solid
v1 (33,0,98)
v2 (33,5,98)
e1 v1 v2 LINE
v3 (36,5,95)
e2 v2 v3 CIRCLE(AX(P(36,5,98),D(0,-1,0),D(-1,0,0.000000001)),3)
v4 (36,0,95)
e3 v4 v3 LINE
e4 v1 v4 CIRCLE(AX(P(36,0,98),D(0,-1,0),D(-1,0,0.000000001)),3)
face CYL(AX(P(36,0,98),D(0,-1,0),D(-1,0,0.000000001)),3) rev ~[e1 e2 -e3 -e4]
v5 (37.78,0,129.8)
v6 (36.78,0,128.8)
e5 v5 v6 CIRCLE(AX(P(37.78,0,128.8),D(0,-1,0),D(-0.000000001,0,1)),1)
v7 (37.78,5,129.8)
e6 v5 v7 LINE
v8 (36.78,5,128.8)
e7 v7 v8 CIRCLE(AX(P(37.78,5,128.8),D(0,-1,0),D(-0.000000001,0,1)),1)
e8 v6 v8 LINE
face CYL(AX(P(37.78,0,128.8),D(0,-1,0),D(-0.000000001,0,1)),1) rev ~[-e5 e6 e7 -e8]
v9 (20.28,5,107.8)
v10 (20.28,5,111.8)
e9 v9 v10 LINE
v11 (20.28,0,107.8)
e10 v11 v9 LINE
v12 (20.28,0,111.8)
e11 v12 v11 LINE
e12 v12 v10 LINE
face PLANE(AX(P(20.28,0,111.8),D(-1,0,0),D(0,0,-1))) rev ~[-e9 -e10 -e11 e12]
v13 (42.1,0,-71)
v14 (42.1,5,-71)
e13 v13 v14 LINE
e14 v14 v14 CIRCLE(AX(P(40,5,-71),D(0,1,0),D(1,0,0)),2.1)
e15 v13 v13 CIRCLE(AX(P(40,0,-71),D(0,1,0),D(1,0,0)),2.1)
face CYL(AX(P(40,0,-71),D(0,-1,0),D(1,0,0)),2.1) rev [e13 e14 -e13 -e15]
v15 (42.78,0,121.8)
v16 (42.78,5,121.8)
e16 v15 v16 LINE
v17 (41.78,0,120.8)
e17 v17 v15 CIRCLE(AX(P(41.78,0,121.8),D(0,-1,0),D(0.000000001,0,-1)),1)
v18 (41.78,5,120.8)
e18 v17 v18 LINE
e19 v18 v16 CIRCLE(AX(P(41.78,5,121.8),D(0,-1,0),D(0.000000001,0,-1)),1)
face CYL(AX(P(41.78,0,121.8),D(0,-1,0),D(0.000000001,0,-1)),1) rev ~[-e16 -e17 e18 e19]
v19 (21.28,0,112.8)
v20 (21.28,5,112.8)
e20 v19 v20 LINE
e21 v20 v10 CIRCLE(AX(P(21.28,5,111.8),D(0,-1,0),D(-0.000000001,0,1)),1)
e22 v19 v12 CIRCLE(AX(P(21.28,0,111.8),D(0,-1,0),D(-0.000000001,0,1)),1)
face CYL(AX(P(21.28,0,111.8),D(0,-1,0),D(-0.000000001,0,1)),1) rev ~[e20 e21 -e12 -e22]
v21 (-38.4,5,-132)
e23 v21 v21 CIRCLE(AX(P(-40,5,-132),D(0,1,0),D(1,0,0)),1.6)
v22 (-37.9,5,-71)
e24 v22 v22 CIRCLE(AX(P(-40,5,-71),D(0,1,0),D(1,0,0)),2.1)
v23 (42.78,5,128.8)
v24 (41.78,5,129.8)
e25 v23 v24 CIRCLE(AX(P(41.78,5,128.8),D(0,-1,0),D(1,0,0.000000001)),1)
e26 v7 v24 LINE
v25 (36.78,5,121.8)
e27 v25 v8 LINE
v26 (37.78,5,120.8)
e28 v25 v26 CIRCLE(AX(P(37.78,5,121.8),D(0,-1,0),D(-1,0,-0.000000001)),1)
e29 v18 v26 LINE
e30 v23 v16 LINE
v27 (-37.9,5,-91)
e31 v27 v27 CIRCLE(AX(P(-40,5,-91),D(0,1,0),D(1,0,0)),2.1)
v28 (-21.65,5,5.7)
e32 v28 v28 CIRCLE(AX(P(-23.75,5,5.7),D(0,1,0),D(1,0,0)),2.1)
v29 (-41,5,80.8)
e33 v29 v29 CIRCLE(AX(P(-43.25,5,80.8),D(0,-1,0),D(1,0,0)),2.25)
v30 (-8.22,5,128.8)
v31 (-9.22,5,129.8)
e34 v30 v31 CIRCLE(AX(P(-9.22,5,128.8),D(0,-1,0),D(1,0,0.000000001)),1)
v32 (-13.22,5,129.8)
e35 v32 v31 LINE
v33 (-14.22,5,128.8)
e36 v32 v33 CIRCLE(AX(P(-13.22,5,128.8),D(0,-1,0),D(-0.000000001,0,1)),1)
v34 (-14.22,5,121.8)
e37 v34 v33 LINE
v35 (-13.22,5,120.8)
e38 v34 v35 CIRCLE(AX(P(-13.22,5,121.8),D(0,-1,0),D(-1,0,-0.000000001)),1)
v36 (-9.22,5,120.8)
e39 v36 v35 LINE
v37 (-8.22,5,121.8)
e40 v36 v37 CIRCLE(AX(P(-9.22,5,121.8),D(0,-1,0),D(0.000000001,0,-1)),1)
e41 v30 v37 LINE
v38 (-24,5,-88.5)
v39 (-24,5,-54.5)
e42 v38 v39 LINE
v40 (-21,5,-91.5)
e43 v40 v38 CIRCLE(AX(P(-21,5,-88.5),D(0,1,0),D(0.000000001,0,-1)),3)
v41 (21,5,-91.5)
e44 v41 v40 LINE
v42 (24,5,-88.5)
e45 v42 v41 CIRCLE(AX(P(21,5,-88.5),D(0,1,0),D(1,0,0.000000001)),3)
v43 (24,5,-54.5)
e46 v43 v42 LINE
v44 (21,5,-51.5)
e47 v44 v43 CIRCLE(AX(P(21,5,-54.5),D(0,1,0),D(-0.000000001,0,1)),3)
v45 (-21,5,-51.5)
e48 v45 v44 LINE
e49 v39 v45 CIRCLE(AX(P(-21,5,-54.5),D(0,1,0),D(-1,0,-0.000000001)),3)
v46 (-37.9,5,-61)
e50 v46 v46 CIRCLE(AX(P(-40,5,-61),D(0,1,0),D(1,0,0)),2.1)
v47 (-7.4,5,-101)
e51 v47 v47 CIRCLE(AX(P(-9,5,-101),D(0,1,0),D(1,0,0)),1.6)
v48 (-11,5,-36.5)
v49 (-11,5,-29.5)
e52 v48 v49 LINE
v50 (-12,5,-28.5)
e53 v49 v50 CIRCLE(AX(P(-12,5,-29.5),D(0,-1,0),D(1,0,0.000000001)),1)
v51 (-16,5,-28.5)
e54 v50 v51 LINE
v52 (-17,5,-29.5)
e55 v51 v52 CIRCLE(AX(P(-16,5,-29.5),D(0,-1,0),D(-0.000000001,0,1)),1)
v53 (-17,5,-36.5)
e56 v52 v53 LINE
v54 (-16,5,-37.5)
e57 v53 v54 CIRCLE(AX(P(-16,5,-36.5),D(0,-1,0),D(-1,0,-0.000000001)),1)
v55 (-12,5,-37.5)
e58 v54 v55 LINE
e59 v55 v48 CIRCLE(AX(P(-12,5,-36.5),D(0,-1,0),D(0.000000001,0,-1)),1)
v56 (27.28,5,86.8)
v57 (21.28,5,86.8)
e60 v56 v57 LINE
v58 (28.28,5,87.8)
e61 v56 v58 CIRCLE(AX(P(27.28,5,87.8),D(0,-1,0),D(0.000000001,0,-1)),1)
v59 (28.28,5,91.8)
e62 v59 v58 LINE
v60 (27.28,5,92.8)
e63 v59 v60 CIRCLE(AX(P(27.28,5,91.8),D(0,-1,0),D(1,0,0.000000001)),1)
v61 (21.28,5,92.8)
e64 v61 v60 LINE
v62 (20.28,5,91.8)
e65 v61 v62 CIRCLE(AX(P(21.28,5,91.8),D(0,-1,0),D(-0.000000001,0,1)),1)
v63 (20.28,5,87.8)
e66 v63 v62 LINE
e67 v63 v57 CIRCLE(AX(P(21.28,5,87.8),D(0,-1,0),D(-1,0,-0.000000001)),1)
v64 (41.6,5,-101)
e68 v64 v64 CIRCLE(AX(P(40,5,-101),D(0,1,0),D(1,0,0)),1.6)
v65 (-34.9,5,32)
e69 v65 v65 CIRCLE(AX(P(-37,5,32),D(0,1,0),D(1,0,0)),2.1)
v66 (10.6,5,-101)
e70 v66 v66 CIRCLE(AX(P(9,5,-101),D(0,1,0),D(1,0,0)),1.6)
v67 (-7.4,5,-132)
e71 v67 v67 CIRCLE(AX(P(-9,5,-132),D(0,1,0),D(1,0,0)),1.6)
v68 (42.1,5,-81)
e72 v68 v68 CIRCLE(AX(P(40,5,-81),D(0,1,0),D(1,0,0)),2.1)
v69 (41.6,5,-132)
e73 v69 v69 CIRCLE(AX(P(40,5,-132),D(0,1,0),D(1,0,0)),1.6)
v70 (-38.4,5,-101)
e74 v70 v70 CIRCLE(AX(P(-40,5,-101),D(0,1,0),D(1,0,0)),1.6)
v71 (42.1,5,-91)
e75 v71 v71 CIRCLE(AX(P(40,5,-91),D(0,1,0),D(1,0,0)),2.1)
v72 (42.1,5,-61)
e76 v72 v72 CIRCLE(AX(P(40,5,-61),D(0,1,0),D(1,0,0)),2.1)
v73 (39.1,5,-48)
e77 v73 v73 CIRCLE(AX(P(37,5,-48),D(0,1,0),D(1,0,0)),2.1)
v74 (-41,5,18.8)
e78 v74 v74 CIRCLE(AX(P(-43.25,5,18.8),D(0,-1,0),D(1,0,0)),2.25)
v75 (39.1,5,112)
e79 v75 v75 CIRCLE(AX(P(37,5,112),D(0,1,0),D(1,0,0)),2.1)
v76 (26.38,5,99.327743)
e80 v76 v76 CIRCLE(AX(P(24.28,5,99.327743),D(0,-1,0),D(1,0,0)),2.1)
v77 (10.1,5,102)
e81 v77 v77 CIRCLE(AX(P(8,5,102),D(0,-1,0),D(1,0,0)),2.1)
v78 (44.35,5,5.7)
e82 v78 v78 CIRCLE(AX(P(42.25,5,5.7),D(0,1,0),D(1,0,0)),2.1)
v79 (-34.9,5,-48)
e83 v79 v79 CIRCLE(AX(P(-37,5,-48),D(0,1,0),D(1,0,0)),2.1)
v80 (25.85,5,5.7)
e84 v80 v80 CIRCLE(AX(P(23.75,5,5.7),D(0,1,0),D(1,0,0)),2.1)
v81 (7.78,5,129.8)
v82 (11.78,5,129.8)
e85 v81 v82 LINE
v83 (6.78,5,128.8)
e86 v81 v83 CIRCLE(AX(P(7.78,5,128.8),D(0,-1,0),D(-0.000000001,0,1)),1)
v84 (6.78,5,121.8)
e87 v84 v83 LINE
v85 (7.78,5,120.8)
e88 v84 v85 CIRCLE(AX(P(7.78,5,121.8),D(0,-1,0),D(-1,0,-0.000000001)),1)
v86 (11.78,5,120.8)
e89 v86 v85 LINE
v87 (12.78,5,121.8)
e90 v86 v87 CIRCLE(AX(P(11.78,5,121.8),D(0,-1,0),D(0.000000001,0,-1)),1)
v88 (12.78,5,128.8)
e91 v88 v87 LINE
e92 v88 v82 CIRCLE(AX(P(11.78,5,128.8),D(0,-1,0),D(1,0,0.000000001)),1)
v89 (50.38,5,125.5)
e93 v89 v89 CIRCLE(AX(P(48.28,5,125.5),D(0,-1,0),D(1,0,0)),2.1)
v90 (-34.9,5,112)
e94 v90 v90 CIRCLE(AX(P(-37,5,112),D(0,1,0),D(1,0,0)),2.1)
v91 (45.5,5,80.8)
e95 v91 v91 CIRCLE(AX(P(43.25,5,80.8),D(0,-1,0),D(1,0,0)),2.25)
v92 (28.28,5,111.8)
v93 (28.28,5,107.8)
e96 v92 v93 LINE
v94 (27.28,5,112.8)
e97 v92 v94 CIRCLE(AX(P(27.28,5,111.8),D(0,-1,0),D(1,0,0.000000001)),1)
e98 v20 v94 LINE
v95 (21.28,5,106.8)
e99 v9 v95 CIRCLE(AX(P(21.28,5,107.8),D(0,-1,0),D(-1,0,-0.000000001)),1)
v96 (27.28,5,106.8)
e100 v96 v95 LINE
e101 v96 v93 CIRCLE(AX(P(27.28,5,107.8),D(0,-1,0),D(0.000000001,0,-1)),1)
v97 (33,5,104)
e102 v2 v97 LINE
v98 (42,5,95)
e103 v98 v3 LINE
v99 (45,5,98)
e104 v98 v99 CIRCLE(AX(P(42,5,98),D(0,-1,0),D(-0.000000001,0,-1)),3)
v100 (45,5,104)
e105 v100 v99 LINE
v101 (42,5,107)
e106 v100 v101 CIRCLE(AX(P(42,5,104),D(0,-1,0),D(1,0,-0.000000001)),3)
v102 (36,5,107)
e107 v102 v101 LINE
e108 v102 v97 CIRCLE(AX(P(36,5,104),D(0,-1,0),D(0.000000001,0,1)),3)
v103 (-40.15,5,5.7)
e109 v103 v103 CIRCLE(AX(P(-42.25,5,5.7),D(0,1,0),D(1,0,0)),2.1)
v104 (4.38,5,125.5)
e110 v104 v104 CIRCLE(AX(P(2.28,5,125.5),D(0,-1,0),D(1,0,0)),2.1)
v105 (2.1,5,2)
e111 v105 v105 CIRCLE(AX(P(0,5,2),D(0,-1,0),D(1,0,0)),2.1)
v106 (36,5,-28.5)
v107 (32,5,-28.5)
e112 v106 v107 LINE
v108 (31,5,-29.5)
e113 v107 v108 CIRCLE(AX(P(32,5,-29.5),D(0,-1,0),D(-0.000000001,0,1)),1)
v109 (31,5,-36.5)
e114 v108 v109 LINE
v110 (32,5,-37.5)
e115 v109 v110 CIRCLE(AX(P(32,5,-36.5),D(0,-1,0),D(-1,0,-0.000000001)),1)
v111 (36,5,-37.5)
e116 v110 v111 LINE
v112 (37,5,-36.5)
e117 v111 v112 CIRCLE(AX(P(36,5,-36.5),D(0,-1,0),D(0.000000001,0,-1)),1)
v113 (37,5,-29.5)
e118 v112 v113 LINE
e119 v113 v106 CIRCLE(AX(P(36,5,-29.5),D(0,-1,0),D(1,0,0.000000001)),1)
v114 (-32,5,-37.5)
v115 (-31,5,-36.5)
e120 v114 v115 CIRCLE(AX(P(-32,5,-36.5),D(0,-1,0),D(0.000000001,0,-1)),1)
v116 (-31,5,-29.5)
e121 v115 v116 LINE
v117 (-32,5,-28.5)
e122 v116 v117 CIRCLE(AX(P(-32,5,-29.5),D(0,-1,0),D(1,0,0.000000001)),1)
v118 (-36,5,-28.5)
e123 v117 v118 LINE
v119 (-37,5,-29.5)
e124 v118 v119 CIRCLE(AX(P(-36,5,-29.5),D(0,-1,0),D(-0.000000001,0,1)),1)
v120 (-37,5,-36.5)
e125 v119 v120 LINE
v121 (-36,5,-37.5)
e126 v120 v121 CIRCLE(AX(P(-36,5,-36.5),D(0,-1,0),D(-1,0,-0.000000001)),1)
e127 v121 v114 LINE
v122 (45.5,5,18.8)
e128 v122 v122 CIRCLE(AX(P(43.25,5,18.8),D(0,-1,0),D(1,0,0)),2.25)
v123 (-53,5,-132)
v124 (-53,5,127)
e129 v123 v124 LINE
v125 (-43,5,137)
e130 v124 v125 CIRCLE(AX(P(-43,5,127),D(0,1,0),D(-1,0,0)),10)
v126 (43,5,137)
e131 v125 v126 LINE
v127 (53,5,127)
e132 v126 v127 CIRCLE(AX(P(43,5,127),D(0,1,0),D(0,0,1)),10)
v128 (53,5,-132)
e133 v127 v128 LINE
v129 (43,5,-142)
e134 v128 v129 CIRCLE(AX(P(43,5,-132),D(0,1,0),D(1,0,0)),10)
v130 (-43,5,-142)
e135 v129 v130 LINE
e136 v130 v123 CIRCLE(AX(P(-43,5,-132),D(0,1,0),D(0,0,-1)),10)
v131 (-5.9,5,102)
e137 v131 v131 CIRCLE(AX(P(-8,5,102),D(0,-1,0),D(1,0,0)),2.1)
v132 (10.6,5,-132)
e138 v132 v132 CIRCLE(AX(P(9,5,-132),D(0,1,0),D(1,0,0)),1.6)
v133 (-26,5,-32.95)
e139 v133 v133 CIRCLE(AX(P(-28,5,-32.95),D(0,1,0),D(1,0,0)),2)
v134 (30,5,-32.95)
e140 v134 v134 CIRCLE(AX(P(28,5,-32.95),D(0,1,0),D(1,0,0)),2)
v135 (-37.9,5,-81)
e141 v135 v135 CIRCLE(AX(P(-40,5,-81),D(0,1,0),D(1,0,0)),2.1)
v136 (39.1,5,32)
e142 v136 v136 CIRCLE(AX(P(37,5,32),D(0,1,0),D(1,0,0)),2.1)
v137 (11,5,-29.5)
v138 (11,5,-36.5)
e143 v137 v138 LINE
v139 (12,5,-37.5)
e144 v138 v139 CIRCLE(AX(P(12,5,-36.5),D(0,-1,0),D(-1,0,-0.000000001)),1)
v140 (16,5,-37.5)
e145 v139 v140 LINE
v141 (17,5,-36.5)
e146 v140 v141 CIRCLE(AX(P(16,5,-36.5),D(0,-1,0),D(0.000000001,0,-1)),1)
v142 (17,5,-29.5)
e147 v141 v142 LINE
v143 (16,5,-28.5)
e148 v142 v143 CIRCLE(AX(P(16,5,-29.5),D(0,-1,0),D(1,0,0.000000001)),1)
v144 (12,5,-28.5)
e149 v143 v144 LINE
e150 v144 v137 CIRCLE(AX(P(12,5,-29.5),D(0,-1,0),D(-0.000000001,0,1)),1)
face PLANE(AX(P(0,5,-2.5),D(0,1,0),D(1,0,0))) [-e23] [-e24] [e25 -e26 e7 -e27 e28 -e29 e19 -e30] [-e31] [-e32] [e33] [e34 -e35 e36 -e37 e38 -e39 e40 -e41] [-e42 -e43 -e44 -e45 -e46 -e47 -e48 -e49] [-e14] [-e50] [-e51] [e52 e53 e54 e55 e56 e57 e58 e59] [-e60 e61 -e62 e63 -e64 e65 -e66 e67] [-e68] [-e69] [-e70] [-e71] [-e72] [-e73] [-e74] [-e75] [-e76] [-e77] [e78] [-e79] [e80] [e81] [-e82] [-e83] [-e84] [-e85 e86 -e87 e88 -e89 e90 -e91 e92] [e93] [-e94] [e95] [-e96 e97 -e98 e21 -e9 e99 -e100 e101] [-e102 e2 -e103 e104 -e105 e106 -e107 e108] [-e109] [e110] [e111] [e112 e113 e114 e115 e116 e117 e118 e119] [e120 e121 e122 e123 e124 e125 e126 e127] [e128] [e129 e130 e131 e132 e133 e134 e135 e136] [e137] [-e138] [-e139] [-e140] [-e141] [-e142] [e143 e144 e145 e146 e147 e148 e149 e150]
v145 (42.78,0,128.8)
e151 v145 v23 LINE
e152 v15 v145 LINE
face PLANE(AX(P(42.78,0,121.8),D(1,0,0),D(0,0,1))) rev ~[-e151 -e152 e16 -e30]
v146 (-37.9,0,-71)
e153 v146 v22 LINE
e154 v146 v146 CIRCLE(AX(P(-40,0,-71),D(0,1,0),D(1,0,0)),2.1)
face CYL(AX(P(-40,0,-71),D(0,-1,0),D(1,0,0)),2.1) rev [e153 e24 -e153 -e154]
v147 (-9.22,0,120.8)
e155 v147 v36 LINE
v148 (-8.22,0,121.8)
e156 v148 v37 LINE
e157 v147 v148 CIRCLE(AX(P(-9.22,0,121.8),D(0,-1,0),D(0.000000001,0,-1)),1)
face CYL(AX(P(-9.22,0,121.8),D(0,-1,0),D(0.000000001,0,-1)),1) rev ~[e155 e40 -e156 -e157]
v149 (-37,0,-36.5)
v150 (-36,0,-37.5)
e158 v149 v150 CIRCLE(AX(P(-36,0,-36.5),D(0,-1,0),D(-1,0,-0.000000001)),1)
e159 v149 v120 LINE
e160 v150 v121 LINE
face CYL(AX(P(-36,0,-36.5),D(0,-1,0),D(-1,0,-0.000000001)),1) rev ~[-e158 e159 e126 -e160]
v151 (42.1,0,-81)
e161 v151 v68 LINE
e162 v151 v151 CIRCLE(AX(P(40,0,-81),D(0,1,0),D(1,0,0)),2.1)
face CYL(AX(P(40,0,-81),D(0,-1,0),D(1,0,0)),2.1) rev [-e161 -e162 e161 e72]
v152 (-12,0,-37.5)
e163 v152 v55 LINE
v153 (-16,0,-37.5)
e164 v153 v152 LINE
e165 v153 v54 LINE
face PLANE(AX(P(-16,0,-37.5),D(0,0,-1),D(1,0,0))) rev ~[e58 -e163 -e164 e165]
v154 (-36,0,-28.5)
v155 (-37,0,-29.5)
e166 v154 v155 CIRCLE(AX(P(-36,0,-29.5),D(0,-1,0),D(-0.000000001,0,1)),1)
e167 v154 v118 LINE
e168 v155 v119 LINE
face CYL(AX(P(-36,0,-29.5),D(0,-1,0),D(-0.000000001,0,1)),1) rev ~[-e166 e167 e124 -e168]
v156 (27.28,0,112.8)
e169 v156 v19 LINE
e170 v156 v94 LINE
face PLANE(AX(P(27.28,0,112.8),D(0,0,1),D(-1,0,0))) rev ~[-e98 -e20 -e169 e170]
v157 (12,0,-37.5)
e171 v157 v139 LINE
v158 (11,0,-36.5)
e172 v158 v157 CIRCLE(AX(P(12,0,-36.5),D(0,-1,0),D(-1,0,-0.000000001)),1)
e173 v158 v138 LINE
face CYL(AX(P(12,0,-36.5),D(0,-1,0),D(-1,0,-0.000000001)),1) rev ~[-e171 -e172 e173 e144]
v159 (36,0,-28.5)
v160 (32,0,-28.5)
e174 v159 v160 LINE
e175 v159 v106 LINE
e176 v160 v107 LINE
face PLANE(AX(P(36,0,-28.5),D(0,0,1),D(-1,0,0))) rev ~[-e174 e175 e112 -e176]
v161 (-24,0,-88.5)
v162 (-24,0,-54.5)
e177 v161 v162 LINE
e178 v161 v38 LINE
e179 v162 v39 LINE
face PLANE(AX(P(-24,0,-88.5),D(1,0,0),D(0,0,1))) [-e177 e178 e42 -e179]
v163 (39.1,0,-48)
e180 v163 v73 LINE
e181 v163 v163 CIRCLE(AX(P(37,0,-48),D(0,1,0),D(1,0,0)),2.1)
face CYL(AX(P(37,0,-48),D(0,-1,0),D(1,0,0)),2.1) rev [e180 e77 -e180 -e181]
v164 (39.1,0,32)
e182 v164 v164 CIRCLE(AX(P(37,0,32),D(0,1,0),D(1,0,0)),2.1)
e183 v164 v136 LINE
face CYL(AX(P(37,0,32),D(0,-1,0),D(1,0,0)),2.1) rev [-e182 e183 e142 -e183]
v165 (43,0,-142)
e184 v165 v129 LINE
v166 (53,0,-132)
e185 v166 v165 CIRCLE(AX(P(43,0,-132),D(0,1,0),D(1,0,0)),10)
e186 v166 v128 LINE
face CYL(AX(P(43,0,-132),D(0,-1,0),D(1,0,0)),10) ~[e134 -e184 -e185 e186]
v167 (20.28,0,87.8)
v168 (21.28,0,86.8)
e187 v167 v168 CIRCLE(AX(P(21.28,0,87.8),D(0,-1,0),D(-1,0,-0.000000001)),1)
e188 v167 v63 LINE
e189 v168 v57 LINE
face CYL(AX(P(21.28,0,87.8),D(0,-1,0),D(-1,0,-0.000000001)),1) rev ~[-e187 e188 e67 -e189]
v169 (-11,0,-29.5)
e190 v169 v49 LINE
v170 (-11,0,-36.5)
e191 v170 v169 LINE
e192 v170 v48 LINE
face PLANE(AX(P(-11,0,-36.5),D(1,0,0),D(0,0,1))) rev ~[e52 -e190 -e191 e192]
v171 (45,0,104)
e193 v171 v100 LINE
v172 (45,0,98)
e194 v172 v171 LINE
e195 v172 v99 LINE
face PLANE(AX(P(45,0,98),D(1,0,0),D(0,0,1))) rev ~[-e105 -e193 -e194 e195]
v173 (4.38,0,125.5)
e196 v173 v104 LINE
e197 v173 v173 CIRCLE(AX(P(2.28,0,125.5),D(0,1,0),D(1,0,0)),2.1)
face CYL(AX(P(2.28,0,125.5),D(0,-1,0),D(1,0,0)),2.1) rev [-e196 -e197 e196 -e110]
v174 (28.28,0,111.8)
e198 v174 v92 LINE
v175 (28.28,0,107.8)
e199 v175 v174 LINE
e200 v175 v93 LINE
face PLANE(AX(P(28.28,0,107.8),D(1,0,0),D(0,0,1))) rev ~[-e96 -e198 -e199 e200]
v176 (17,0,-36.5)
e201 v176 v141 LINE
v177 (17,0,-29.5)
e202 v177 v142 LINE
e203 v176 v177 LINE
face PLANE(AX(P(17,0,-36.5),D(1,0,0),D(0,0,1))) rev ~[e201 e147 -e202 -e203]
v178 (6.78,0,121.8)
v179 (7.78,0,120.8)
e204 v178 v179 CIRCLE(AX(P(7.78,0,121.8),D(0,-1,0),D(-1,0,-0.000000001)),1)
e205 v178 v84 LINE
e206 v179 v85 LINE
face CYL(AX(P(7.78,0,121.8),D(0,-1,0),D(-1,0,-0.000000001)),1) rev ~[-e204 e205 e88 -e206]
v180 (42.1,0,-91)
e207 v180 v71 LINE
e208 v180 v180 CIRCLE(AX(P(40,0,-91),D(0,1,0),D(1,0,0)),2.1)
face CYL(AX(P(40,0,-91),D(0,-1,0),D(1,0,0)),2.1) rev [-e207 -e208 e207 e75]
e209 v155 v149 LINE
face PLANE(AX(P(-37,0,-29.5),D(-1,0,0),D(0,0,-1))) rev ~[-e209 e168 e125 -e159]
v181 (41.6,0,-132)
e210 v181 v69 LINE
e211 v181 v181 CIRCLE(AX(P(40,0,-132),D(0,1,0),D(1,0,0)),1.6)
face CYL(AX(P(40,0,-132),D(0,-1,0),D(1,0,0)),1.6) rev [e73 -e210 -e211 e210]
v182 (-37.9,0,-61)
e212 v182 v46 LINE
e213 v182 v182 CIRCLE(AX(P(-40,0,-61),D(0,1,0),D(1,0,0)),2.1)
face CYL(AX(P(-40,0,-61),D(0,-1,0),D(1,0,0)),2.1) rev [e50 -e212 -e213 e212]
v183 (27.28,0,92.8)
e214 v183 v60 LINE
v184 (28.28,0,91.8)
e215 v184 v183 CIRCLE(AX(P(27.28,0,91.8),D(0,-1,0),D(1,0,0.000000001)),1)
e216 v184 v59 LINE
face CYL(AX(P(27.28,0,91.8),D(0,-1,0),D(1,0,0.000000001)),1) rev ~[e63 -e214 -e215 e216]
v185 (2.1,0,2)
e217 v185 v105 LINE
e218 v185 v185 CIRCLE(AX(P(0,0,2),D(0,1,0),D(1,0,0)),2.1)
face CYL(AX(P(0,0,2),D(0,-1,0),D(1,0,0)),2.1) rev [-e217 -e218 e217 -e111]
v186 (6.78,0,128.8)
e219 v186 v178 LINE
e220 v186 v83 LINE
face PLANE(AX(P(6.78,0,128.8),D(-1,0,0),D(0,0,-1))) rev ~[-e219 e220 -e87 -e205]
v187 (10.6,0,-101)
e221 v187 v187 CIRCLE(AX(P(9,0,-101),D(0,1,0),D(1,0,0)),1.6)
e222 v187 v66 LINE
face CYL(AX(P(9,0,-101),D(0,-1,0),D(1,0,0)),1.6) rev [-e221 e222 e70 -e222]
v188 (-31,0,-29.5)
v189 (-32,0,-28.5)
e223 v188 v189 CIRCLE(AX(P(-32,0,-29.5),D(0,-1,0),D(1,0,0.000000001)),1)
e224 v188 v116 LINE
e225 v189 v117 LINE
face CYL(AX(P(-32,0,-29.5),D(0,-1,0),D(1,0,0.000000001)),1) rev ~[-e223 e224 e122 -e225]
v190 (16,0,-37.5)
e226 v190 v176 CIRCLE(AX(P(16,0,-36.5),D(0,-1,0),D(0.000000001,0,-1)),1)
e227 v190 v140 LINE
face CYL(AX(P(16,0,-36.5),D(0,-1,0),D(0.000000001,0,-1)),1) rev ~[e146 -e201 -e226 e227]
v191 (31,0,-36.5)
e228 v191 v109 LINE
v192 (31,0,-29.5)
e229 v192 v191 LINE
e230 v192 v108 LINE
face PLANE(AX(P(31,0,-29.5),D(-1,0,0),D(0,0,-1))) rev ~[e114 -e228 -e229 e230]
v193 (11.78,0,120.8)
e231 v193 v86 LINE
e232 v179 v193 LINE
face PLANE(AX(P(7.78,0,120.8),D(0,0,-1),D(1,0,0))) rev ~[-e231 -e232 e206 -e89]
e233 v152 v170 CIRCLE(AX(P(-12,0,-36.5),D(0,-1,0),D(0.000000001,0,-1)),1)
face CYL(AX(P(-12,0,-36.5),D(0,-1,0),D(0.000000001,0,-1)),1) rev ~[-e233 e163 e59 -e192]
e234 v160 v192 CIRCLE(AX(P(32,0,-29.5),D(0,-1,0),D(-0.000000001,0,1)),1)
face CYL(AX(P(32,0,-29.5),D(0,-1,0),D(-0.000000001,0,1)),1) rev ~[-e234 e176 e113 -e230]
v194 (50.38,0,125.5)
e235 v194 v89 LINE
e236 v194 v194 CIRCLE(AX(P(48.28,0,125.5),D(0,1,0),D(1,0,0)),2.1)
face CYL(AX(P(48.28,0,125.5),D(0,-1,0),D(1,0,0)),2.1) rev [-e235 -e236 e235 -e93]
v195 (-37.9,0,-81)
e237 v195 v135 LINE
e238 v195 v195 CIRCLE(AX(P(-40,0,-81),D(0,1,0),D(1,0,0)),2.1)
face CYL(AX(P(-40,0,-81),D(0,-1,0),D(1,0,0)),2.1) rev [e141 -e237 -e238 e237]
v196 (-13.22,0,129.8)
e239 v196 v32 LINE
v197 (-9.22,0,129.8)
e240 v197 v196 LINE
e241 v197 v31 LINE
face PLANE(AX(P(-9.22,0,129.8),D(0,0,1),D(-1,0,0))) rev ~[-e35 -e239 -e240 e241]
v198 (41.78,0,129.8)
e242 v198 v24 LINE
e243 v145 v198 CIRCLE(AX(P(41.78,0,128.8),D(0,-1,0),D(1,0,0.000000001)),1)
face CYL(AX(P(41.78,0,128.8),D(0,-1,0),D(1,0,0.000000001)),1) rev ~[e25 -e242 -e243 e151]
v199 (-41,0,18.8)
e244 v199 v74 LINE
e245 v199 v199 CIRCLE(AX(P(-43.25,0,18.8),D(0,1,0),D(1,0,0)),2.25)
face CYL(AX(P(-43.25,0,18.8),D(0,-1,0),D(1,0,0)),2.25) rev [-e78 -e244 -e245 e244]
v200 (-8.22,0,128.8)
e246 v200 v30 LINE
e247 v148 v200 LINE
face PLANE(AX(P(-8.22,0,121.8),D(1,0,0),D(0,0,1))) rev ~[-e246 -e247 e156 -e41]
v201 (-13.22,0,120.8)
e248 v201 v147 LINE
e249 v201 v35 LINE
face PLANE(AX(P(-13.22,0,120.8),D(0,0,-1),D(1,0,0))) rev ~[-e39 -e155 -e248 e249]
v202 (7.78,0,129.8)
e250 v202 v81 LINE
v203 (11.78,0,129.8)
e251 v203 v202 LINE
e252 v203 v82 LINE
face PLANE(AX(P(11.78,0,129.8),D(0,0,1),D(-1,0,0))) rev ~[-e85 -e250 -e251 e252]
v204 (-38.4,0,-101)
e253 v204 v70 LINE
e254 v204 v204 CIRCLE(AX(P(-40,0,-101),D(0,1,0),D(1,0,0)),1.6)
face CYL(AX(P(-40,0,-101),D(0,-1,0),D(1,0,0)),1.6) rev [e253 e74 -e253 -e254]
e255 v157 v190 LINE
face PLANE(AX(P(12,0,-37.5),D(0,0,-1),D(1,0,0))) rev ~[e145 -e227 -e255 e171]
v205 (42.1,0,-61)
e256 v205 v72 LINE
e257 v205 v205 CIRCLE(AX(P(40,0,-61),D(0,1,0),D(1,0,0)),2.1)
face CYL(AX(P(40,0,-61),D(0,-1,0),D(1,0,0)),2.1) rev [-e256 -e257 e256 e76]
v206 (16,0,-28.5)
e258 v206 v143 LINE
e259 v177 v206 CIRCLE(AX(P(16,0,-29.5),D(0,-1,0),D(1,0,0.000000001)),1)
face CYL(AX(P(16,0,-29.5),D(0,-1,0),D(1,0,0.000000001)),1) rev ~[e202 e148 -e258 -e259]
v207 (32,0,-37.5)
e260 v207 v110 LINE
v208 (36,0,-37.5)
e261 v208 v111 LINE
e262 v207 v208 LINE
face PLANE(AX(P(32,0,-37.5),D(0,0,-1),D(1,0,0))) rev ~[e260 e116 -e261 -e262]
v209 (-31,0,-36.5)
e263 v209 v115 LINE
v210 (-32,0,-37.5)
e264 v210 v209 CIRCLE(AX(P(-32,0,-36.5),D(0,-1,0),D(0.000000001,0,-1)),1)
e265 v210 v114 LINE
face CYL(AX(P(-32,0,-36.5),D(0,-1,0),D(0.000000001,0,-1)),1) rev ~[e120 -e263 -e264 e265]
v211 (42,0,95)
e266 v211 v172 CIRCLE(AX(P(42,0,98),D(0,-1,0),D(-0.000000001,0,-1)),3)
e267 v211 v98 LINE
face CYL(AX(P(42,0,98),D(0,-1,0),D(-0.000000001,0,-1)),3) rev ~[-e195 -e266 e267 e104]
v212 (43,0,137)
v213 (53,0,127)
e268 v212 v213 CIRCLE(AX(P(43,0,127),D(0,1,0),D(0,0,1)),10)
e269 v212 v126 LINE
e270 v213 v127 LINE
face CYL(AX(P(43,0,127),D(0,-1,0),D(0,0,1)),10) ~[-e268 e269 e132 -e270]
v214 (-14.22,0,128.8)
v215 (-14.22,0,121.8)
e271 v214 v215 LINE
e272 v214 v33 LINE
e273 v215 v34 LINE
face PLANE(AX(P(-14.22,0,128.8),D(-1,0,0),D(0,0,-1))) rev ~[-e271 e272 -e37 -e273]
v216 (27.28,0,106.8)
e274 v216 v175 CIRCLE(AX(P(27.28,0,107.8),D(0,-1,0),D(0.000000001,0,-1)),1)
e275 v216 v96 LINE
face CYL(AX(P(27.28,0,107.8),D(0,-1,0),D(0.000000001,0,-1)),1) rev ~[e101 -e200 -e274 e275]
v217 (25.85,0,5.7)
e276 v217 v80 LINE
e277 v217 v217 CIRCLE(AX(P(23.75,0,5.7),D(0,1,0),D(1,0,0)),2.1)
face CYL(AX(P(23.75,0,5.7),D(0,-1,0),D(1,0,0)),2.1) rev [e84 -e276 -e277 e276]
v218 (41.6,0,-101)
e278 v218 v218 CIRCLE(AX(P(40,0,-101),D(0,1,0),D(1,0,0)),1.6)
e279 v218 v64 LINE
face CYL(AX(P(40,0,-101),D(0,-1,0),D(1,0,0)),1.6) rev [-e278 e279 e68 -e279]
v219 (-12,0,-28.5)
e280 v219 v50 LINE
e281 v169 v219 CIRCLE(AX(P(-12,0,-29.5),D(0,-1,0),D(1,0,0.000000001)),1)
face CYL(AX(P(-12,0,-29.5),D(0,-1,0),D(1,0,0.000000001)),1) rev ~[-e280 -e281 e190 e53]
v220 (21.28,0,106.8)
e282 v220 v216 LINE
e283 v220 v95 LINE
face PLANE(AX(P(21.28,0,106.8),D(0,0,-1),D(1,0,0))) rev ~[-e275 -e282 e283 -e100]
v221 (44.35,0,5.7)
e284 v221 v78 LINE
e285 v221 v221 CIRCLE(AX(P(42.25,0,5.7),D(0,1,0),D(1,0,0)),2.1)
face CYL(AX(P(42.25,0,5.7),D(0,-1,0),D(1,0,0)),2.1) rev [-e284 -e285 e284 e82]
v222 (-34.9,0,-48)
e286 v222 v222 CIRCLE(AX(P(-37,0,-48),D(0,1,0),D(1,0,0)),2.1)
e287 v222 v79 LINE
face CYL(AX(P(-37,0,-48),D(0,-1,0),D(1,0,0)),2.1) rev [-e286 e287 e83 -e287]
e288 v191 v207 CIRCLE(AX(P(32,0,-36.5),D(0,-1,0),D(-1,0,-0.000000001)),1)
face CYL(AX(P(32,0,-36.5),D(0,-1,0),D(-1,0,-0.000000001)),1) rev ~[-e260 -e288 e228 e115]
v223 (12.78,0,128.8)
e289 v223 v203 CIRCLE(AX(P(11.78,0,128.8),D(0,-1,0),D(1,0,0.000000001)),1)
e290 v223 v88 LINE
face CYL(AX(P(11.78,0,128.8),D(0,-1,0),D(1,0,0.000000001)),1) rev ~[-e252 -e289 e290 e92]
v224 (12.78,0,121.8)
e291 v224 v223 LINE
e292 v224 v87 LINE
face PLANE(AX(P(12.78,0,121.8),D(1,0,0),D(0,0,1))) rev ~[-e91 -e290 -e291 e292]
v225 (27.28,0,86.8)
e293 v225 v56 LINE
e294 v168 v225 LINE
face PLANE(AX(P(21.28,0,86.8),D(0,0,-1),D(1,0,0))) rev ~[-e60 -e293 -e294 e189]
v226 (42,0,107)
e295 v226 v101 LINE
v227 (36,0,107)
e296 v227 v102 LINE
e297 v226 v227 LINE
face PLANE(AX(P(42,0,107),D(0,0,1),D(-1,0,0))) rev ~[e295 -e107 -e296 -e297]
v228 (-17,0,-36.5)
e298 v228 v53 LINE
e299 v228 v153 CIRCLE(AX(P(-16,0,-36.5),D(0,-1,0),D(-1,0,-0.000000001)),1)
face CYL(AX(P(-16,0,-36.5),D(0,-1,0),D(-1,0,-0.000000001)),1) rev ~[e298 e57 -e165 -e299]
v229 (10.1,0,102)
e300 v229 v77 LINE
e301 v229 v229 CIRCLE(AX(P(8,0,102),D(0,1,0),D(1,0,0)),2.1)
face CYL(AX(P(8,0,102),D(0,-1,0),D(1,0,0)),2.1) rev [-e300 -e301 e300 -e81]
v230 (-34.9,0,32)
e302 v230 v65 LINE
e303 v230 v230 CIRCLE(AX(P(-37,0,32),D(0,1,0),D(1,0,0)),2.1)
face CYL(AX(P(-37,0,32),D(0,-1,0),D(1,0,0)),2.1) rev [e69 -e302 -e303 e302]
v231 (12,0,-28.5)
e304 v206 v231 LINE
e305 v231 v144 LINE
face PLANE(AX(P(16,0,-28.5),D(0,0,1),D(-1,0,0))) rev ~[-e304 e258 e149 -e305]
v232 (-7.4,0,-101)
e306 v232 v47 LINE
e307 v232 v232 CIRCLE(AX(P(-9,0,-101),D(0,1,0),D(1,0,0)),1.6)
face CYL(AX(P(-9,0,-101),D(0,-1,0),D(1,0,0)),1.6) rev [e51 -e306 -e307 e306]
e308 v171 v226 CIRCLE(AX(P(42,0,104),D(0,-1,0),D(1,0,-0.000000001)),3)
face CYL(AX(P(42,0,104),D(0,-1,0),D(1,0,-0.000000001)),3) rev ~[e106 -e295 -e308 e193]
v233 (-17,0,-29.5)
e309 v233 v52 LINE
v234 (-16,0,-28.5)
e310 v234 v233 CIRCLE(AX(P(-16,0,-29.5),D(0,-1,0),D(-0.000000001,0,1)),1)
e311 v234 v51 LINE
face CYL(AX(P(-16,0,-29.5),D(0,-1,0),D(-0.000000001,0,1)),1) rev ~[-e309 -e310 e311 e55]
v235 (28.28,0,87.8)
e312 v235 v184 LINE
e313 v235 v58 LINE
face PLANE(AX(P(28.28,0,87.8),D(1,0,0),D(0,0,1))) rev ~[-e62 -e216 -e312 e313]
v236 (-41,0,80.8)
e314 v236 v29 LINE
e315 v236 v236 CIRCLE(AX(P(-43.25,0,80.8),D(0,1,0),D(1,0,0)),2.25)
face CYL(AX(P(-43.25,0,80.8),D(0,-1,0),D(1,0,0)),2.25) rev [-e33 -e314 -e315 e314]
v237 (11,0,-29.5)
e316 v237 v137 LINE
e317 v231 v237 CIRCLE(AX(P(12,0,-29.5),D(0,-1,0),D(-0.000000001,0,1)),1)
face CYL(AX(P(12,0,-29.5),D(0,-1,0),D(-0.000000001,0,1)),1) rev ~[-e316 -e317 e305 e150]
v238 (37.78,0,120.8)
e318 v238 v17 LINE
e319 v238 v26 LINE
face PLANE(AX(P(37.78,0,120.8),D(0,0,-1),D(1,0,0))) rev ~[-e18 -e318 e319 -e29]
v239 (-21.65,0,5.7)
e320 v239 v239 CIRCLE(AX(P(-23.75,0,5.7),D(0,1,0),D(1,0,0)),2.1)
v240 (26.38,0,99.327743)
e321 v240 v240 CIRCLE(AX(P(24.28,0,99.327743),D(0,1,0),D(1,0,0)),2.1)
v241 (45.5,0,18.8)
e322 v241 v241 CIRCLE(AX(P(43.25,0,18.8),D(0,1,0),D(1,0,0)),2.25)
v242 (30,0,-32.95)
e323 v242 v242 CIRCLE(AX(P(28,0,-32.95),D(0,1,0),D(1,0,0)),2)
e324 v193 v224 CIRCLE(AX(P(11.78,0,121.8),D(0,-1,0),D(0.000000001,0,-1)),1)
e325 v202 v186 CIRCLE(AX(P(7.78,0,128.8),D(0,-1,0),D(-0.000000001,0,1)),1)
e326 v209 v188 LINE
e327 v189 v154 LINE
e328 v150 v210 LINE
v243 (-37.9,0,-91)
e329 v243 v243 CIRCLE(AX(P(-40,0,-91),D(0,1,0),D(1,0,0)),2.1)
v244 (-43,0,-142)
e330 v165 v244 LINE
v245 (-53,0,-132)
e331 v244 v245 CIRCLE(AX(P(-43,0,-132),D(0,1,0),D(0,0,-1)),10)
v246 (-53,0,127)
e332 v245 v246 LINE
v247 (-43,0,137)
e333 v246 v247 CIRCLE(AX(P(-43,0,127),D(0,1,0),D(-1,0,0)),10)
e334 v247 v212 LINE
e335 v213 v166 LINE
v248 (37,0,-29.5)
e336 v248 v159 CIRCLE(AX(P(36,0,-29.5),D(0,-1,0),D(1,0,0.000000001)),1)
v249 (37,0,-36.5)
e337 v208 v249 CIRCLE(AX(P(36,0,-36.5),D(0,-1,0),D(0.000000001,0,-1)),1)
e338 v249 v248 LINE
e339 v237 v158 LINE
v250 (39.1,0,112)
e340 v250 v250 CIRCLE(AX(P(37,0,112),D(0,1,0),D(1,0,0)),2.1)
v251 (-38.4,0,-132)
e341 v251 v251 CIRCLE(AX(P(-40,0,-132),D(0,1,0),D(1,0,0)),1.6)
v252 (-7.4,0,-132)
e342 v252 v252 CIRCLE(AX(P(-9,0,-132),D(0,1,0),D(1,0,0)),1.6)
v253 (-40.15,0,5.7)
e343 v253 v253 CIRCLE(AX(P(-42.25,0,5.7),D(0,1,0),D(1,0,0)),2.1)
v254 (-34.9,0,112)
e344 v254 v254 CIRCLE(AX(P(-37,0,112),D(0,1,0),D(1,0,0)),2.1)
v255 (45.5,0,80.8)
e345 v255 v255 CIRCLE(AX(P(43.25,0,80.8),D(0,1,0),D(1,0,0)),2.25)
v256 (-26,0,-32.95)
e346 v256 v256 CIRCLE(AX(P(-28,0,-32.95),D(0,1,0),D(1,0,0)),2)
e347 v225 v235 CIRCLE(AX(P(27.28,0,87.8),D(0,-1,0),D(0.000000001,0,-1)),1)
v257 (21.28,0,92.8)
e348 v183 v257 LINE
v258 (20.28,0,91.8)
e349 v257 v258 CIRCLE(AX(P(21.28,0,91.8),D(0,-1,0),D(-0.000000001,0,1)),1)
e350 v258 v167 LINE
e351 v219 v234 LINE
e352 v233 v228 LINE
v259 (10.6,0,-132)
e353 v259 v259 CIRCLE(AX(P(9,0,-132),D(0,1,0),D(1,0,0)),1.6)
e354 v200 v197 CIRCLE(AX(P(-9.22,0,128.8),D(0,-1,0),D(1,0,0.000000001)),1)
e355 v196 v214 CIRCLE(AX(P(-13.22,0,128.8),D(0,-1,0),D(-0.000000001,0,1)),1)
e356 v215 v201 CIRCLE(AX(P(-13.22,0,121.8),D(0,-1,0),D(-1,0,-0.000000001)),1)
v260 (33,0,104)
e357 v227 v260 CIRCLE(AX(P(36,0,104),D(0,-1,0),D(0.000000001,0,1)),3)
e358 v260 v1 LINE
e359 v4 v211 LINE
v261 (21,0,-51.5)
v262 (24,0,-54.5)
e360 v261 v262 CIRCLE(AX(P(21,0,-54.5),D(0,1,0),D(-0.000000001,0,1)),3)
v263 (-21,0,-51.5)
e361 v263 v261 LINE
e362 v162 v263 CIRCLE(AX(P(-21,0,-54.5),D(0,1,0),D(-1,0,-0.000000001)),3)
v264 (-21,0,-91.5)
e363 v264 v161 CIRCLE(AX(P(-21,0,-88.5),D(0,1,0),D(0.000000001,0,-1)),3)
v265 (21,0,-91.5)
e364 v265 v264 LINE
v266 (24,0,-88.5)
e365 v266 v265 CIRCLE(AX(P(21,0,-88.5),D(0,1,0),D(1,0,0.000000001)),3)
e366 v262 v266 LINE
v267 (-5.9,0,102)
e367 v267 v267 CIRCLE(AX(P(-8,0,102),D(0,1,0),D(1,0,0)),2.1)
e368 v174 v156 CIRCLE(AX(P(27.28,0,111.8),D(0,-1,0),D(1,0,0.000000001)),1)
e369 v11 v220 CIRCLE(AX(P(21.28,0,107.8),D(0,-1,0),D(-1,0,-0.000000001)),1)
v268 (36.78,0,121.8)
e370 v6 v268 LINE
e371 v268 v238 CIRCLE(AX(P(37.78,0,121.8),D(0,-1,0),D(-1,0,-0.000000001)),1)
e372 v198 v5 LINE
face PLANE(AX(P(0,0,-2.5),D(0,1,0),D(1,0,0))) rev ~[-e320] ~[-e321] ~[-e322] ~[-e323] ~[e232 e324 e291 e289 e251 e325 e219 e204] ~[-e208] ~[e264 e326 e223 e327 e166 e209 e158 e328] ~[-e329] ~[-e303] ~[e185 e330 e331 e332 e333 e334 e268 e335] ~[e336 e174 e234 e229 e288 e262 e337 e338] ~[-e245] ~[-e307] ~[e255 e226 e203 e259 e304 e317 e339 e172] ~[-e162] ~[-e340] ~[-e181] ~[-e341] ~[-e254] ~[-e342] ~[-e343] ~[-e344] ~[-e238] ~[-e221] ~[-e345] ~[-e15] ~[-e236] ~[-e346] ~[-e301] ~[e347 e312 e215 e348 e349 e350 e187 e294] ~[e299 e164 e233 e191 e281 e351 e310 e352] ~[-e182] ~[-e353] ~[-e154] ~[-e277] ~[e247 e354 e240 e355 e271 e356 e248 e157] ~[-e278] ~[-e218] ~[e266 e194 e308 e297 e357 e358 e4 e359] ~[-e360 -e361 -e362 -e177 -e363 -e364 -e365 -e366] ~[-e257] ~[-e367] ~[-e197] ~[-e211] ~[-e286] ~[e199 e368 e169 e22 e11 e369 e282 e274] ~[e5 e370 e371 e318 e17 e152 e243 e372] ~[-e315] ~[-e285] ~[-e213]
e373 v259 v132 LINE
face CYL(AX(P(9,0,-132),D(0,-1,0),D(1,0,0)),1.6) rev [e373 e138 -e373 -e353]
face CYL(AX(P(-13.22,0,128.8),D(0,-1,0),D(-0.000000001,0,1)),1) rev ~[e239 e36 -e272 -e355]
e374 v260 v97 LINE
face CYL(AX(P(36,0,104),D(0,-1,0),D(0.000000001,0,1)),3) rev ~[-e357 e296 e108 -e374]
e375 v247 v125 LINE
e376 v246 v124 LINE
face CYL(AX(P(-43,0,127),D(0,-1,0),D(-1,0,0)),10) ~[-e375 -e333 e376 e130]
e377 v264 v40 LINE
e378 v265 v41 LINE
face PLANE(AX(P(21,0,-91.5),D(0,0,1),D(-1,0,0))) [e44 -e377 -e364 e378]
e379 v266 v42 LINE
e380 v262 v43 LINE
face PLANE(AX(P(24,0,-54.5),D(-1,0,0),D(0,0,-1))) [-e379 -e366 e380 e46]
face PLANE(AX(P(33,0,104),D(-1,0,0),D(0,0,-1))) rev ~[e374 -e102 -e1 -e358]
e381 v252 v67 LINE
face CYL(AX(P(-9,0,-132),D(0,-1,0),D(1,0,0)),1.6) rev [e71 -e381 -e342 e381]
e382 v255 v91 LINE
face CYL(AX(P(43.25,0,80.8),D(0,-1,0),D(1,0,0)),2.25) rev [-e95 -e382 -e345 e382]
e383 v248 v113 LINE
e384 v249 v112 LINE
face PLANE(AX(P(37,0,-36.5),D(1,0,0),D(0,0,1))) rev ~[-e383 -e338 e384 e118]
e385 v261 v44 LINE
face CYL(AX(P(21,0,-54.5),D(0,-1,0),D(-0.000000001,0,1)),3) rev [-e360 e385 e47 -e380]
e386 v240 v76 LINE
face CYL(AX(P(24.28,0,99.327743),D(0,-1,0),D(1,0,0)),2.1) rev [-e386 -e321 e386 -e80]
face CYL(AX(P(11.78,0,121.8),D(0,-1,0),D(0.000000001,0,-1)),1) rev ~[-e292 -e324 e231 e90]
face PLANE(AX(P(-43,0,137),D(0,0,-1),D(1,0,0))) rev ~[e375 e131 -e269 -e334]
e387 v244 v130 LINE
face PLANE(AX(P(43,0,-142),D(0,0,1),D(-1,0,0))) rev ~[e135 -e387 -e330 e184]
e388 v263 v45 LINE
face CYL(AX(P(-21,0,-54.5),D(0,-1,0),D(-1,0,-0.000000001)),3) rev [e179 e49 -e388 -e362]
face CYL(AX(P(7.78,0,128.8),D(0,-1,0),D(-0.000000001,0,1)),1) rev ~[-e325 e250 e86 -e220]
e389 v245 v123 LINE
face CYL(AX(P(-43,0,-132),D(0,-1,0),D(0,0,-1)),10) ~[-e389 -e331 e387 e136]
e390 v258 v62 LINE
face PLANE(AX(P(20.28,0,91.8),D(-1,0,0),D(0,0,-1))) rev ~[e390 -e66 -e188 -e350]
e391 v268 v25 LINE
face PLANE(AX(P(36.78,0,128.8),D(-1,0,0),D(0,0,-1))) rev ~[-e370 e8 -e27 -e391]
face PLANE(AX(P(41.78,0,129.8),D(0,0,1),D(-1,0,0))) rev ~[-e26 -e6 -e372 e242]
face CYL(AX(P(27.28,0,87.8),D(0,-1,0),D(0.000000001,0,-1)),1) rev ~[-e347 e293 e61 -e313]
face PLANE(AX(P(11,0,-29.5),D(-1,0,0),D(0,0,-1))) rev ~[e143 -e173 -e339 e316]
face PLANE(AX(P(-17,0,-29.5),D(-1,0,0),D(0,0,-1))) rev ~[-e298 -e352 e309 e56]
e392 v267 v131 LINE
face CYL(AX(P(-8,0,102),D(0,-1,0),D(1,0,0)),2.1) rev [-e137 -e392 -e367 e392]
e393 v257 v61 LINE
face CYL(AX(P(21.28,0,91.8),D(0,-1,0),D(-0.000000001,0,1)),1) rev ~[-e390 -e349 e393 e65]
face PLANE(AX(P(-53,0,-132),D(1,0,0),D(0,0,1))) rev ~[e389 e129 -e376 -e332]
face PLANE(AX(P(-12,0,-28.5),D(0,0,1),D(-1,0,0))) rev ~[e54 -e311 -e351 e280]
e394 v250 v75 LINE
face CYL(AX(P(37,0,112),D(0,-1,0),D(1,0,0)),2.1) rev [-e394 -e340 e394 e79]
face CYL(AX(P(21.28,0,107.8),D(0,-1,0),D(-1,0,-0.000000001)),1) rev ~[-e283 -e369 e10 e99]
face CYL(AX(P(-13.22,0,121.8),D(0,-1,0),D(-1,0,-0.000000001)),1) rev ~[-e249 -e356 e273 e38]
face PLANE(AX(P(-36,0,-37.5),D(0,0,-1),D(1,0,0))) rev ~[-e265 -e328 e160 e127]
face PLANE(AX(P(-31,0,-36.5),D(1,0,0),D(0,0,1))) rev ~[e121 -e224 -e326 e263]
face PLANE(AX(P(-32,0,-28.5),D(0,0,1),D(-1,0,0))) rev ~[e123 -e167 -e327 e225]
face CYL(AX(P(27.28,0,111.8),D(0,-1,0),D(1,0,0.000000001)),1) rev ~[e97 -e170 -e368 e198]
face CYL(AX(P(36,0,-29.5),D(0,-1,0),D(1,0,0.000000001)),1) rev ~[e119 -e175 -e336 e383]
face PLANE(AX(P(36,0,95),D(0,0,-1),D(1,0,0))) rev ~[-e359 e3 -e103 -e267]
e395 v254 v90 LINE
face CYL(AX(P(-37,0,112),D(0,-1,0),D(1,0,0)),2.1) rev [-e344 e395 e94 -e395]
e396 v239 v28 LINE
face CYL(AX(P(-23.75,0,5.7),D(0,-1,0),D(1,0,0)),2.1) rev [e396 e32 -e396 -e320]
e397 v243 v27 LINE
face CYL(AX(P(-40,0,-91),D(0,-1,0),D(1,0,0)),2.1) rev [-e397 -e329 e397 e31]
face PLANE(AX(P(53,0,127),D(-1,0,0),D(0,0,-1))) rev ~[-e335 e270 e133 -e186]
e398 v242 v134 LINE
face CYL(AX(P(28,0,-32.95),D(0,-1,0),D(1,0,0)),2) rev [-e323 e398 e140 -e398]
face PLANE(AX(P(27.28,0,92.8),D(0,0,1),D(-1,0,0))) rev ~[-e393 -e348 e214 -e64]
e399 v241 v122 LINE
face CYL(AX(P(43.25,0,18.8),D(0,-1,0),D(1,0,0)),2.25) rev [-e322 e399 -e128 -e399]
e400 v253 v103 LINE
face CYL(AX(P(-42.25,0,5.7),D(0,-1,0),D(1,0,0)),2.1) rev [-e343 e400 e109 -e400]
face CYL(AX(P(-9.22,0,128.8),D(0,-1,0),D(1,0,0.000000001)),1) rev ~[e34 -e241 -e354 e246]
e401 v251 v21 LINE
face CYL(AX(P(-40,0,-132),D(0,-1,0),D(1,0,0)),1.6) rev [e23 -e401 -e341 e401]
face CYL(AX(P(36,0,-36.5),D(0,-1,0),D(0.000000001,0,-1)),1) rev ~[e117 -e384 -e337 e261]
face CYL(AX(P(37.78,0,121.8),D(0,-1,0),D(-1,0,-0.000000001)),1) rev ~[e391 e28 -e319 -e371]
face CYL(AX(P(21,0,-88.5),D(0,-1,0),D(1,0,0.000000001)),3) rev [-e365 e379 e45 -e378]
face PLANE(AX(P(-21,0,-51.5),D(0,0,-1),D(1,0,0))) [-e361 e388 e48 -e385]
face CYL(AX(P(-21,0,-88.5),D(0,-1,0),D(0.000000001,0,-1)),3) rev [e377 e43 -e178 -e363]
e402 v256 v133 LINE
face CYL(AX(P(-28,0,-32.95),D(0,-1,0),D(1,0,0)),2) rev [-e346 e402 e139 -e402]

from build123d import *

# Parameters (mm, degrees)
SKETCH_1_R          = 1.6
SKETCH_1_R_2        = 2.1
SKETCH_1_R_3        = 2
EXTRUDE_1_DEPTH     = 5
SKETCH_2_R          = 2.25
CUT_EXTRUDE_2_DEPTH = 10
SKETCH_3_R          = 2.1
CUT_EXTRUDE_3_DEPTH = 27
CUT_EXTRUDE_4_DEPTH = 20
SKETCH_5_R          = 2.1
CUT_EXTRUDE_5_DEPTH = 20


with BuildPart() as part:
    # 草图1 → 凸台-拉伸1 (new body)
    with BuildSketch(Plane(origin=(0, 0, 0), x_dir=(1, 0, 0), z_dir=(0, 1, 0))):
        with BuildLine():
            Line((-43, -137), (43, -137))
            ThreePointArc((43, -137), (50.071067812, -134.071067812), (53, -127))
            Line((53, -127), (53, 132))
            ThreePointArc((53, 132), (50.071067812, 139.071067812), (43, 142))
            Line((43, 142), (-43, 142))
            ThreePointArc((-43, 142), (-50.071067812, 139.071067812), (-53, 132))
            Line((-53, 132), (-53, -127))
            ThreePointArc((-53, -127), (-50.071067812, -134.071067812), (-43, -137))
        make_face()
        with Locations((-40, 132)):
            Circle(SKETCH_1_R, mode=Mode.SUBTRACT)
        with Locations((-9, 132)):
            Circle(SKETCH_1_R, mode=Mode.SUBTRACT)
        with Locations((-9, 101)):
            Circle(SKETCH_1_R, mode=Mode.SUBTRACT)
        with Locations((-40, 101)):
            Circle(SKETCH_1_R, mode=Mode.SUBTRACT)
        with Locations((9, 101)):
            Circle(SKETCH_1_R, mode=Mode.SUBTRACT)
        with Locations((40, 101)):
            Circle(SKETCH_1_R, mode=Mode.SUBTRACT)
        with Locations((9, 132)):
            Circle(SKETCH_1_R, mode=Mode.SUBTRACT)
        with Locations((40, 132)):
            Circle(SKETCH_1_R, mode=Mode.SUBTRACT)
        with Locations((-37, -112)):
            Circle(SKETCH_1_R_2, mode=Mode.SUBTRACT)
        with Locations((-37, -32)):
            Circle(SKETCH_1_R_2, mode=Mode.SUBTRACT)
        with Locations((-37, 48)):
            Circle(SKETCH_1_R_2, mode=Mode.SUBTRACT)
        with Locations((37, -112)):
            Circle(SKETCH_1_R_2, mode=Mode.SUBTRACT)
        with Locations((37, -32)):
            Circle(SKETCH_1_R_2, mode=Mode.SUBTRACT)
        with Locations((37, 48)):
            Circle(SKETCH_1_R_2, mode=Mode.SUBTRACT)
        with Locations((-40, 91)):
            Circle(SKETCH_1_R_2, mode=Mode.SUBTRACT)
        with Locations((-40, 81)):
            Circle(SKETCH_1_R_2, mode=Mode.SUBTRACT)
        with Locations((-40, 71)):
            Circle(SKETCH_1_R_2, mode=Mode.SUBTRACT)
        with Locations((-40, 61)):
            Circle(SKETCH_1_R_2, mode=Mode.SUBTRACT)
        with Locations((40, 61)):
            Circle(SKETCH_1_R_2, mode=Mode.SUBTRACT)
        with Locations((40, 71)):
            Circle(SKETCH_1_R_2, mode=Mode.SUBTRACT)
        with Locations((40, 81)):
            Circle(SKETCH_1_R_2, mode=Mode.SUBTRACT)
        with Locations((40, 91)):
            Circle(SKETCH_1_R_2, mode=Mode.SUBTRACT)
        with Locations((-42.25, -5.7)):
            Circle(SKETCH_1_R_2, mode=Mode.SUBTRACT)
        with Locations((-23.75, -5.7)):
            Circle(SKETCH_1_R_2, mode=Mode.SUBTRACT)
        with Locations((23.75, -5.7)):
            Circle(SKETCH_1_R_2, mode=Mode.SUBTRACT)
        with Locations((42.25, -5.7)):
            Circle(SKETCH_1_R_2, mode=Mode.SUBTRACT)
        with Locations((-28, 32.95)):
            Circle(SKETCH_1_R_3, mode=Mode.SUBTRACT)
        with Locations((28, 32.95)):
            Circle(SKETCH_1_R_3, mode=Mode.SUBTRACT)
        with BuildLine():
            Line((21, 91.5), (-21, 91.5))
            ThreePointArc((-21, 91.5), (-23.121320344, 90.621320344), (-24, 88.5))
            Line((-24, 88.5), (-24, 54.5))
            ThreePointArc((-24, 54.5), (-23.121320344, 52.378679656), (-21, 51.5))
            Line((-21, 51.5), (21, 51.5))
            ThreePointArc((21, 51.5), (23.121320344, 52.378679656), (24, 54.5))
            Line((24, 54.5), (24, 88.5))
            ThreePointArc((24, 88.5), (23.121320344, 90.621320344), (21, 91.5))
        make_face(mode=Mode.SUBTRACT)
        with BuildLine():
            Line((-36, 37.5), (-32, 37.5))
            ThreePointArc((-32, 37.5), (-31.292893219, 37.207106781), (-31, 36.5))
            Line((-31, 36.5), (-31, 29.5))
            ThreePointArc((-31, 29.5), (-31.292893219, 28.792893219), (-32, 28.5))
            Line((-32, 28.5), (-36, 28.5))
            ThreePointArc((-36, 28.5), (-36.707106781, 28.792893219), (-37, 29.5))
            Line((-37, 29.5), (-37, 36.5))
            ThreePointArc((-37, 36.5), (-36.707106781, 37.207106781), (-36, 37.5))
        make_face(mode=Mode.SUBTRACT)
        with BuildLine():
            Line((-16, 37.5), (-12, 37.5))
            ThreePointArc((-12, 37.5), (-11.292893219, 37.207106781), (-11, 36.5))
            Line((-11, 36.5), (-11, 29.5))
            ThreePointArc((-11, 29.5), (-11.292893219, 28.792893219), (-12, 28.5))
            Line((-12, 28.5), (-16, 28.5))
            ThreePointArc((-16, 28.5), (-16.707106781, 28.792893219), (-17, 29.5))
            Line((-17, 29.5), (-17, 36.5))
            ThreePointArc((-17, 36.5), (-16.707106781, 37.207106781), (-16, 37.5))
        make_face(mode=Mode.SUBTRACT)
        with BuildLine():
            Line((37, 36.5), (37, 29.5))
            ThreePointArc((37, 29.5), (36.707106781, 28.792893219), (36, 28.5))
            Line((36, 28.5), (32, 28.5))
            ThreePointArc((32, 28.5), (31.292893219, 28.792893219), (31, 29.5))
            Line((31, 29.5), (31, 36.5))
            ThreePointArc((31, 36.5), (31.292893219, 37.207106781), (32, 37.5))
            Line((32, 37.5), (36, 37.5))
            ThreePointArc((36, 37.5), (36.707106781, 37.207106781), (37, 36.5))
        make_face(mode=Mode.SUBTRACT)
        with BuildLine():
            Line((17, 36.5), (17, 29.5))
            ThreePointArc((17, 29.5), (16.707106781, 28.792893219), (16, 28.5))
            Line((16, 28.5), (12, 28.5))
            ThreePointArc((12, 28.5), (11.292893219, 28.792893219), (11, 29.5))
            Line((11, 29.5), (11, 36.5))
            ThreePointArc((11, 36.5), (11.292893219, 37.207106781), (12, 37.5))
            Line((12, 37.5), (16, 37.5))
            ThreePointArc((16, 37.5), (16.707106781, 37.207106781), (17, 36.5))
        make_face(mode=Mode.SUBTRACT)
    extrude(amount=EXTRUDE_1_DEPTH)

    # 草图2 → 切除-拉伸2 (cut)
    with BuildSketch(Plane(origin=(0, 0, 0), x_dir=(1, 0, 0), z_dir=(0, 1, 0))):
        with Locations((-43.25, -80.8)):
            Circle(SKETCH_2_R)
        with Locations((43.25, -80.8)):
            Circle(SKETCH_2_R)
        with Locations((-43.25, -18.8)):
            Circle(SKETCH_2_R)
        with Locations((43.25, -18.8)):
            Circle(SKETCH_2_R)
    extrude(amount=CUT_EXTRUDE_2_DEPTH, mode=Mode.SUBTRACT)

    # 草图3 → 切除-拉伸3 (cut)
    with BuildSketch(Plane(origin=(0, 0, 0), x_dir=(1, 0, 0), z_dir=(0, 1, 0))):
        with Locations((2.28, -125.5)):
            Circle(SKETCH_3_R)
        with Locations((48.28, -125.5)):
            Circle(SKETCH_3_R)
        with Locations((24.28, -99.327742623)):
            Circle(SKETCH_3_R)
        with BuildLine():
            Line((37.78, -120.8), (41.78, -120.8))
            ThreePointArc((41.78, -120.8), (42.487106781, -121.092893219), (42.78, -121.8))
            Line((42.78, -121.8), (42.78, -128.8))
            ThreePointArc((42.78, -128.8), (42.487106781, -129.507106781), (41.78, -129.8))
            Line((41.78, -129.8), (37.78, -129.8))
            ThreePointArc((37.78, -129.8), (37.072893219, -129.507106781), (36.78, -128.8))
            Line((36.78, -128.8), (36.78, -121.8))
            ThreePointArc((36.78, -121.8), (37.072893219, -121.092893219), (37.78, -120.8))
        make_face()
        with BuildLine():
            Line((7.78, -120.8), (11.78, -120.8))
            ThreePointArc((11.78, -120.8), (12.487106781, -121.092893219), (12.78, -121.8))
            Line((12.78, -121.8), (12.78, -128.8))
            ThreePointArc((12.78, -128.8), (12.487106781, -129.507106781), (11.78, -129.8))
            Line((11.78, -129.8), (7.78, -129.8))
            ThreePointArc((7.78, -129.8), (7.072893219, -129.507106781), (6.78, -128.8))
            Line((6.78, -128.8), (6.78, -121.8))
            ThreePointArc((6.78, -121.8), (7.072893219, -121.092893219), (7.78, -120.8))
        make_face()
        with BuildLine():
            Line((21.28, -106.8), (27.28, -106.8))
            ThreePointArc((27.28, -106.8), (27.987106781, -107.092893219), (28.28, -107.8))
            Line((28.28, -107.8), (28.28, -111.8))
            ThreePointArc((28.28, -111.8), (27.987106781, -112.507106781), (27.28, -112.8))
            Line((27.28, -112.8), (21.28, -112.8))
            ThreePointArc((21.28, -112.8), (20.572893219, -112.507106781), (20.28, -111.8))
            Line((20.28, -111.8), (20.28, -107.8))
            ThreePointArc((20.28, -107.8), (20.572893219, -107.092893219), (21.28, -106.8))
        make_face()
        with BuildLine():
            Line((21.28, -86.8), (27.28, -86.8))
            ThreePointArc((27.28, -86.8), (27.987106781, -87.092893219), (28.28, -87.8))
            Line((28.28, -87.8), (28.28, -91.8))
            ThreePointArc((28.28, -91.8), (27.987106781, -92.507106781), (27.28, -92.8))
            Line((27.28, -92.8), (21.28, -92.8))
            ThreePointArc((21.28, -92.8), (20.572893219, -92.507106781), (20.28, -91.8))
            Line((20.28, -91.8), (20.28, -87.8))
            ThreePointArc((20.28, -87.8), (20.572893219, -87.092893219), (21.28, -86.8))
        make_face()
        with BuildLine():
            Line((-8.22, -121.8), (-8.22, -128.8))
            ThreePointArc((-8.22, -128.8), (-8.512893219, -129.507106781), (-9.22, -129.8))
            Line((-9.22, -129.8), (-13.22, -129.8))
            ThreePointArc((-13.22, -129.8), (-13.927106781, -129.507106781), (-14.22, -128.8))
            Line((-14.22, -128.8), (-14.22, -121.8))
            ThreePointArc((-14.22, -121.8), (-13.927106781, -121.092893219), (-13.22, -120.8))
            Line((-13.22, -120.8), (-9.22, -120.8))
            ThreePointArc((-9.22, -120.8), (-8.512893219, -121.092893219), (-8.22, -121.8))
        make_face()
    extrude(amount=CUT_EXTRUDE_3_DEPTH, mode=Mode.SUBTRACT)

    # 草图4 → 切除-拉伸4 (cut)
    with BuildSketch(Plane(origin=(0, 0, 0), x_dir=(1, 0, 0), z_dir=(0, 1, 0))):
        with BuildLine():
            Line((36, -95), (42, -95))
            ThreePointArc((42, -95), (44.121320344, -95.878679656), (45, -98))
            Line((45, -98), (45, -104))
            ThreePointArc((45, -104), (44.121320344, -106.121320344), (42, -107))
            Line((42, -107), (36, -107))
            ThreePointArc((36, -107), (33.878679656, -106.121320344), (33, -104))
            Line((33, -104), (33, -98))
            ThreePointArc((33, -98), (33.878679656, -95.878679656), (36, -95))
        make_face()
    extrude(amount=CUT_EXTRUDE_4_DEPTH, mode=Mode.SUBTRACT)

    # 草图5 → 切除-拉伸5 (cut)
    with BuildSketch(Plane(origin=(0, 0, 0), x_dir=(1, 0, 0), z_dir=(0, 1, 0))):
        with Locations((0, -2)):
            Circle(SKETCH_5_R)
        with Locations((-8, -102)):
            Circle(SKETCH_5_R)
        with Locations((8, -102)):
            Circle(SKETCH_5_R)
    extrude(amount=CUT_EXTRUDE_5_DEPTH, mode=Mode.SUBTRACT)


solid = part.part
